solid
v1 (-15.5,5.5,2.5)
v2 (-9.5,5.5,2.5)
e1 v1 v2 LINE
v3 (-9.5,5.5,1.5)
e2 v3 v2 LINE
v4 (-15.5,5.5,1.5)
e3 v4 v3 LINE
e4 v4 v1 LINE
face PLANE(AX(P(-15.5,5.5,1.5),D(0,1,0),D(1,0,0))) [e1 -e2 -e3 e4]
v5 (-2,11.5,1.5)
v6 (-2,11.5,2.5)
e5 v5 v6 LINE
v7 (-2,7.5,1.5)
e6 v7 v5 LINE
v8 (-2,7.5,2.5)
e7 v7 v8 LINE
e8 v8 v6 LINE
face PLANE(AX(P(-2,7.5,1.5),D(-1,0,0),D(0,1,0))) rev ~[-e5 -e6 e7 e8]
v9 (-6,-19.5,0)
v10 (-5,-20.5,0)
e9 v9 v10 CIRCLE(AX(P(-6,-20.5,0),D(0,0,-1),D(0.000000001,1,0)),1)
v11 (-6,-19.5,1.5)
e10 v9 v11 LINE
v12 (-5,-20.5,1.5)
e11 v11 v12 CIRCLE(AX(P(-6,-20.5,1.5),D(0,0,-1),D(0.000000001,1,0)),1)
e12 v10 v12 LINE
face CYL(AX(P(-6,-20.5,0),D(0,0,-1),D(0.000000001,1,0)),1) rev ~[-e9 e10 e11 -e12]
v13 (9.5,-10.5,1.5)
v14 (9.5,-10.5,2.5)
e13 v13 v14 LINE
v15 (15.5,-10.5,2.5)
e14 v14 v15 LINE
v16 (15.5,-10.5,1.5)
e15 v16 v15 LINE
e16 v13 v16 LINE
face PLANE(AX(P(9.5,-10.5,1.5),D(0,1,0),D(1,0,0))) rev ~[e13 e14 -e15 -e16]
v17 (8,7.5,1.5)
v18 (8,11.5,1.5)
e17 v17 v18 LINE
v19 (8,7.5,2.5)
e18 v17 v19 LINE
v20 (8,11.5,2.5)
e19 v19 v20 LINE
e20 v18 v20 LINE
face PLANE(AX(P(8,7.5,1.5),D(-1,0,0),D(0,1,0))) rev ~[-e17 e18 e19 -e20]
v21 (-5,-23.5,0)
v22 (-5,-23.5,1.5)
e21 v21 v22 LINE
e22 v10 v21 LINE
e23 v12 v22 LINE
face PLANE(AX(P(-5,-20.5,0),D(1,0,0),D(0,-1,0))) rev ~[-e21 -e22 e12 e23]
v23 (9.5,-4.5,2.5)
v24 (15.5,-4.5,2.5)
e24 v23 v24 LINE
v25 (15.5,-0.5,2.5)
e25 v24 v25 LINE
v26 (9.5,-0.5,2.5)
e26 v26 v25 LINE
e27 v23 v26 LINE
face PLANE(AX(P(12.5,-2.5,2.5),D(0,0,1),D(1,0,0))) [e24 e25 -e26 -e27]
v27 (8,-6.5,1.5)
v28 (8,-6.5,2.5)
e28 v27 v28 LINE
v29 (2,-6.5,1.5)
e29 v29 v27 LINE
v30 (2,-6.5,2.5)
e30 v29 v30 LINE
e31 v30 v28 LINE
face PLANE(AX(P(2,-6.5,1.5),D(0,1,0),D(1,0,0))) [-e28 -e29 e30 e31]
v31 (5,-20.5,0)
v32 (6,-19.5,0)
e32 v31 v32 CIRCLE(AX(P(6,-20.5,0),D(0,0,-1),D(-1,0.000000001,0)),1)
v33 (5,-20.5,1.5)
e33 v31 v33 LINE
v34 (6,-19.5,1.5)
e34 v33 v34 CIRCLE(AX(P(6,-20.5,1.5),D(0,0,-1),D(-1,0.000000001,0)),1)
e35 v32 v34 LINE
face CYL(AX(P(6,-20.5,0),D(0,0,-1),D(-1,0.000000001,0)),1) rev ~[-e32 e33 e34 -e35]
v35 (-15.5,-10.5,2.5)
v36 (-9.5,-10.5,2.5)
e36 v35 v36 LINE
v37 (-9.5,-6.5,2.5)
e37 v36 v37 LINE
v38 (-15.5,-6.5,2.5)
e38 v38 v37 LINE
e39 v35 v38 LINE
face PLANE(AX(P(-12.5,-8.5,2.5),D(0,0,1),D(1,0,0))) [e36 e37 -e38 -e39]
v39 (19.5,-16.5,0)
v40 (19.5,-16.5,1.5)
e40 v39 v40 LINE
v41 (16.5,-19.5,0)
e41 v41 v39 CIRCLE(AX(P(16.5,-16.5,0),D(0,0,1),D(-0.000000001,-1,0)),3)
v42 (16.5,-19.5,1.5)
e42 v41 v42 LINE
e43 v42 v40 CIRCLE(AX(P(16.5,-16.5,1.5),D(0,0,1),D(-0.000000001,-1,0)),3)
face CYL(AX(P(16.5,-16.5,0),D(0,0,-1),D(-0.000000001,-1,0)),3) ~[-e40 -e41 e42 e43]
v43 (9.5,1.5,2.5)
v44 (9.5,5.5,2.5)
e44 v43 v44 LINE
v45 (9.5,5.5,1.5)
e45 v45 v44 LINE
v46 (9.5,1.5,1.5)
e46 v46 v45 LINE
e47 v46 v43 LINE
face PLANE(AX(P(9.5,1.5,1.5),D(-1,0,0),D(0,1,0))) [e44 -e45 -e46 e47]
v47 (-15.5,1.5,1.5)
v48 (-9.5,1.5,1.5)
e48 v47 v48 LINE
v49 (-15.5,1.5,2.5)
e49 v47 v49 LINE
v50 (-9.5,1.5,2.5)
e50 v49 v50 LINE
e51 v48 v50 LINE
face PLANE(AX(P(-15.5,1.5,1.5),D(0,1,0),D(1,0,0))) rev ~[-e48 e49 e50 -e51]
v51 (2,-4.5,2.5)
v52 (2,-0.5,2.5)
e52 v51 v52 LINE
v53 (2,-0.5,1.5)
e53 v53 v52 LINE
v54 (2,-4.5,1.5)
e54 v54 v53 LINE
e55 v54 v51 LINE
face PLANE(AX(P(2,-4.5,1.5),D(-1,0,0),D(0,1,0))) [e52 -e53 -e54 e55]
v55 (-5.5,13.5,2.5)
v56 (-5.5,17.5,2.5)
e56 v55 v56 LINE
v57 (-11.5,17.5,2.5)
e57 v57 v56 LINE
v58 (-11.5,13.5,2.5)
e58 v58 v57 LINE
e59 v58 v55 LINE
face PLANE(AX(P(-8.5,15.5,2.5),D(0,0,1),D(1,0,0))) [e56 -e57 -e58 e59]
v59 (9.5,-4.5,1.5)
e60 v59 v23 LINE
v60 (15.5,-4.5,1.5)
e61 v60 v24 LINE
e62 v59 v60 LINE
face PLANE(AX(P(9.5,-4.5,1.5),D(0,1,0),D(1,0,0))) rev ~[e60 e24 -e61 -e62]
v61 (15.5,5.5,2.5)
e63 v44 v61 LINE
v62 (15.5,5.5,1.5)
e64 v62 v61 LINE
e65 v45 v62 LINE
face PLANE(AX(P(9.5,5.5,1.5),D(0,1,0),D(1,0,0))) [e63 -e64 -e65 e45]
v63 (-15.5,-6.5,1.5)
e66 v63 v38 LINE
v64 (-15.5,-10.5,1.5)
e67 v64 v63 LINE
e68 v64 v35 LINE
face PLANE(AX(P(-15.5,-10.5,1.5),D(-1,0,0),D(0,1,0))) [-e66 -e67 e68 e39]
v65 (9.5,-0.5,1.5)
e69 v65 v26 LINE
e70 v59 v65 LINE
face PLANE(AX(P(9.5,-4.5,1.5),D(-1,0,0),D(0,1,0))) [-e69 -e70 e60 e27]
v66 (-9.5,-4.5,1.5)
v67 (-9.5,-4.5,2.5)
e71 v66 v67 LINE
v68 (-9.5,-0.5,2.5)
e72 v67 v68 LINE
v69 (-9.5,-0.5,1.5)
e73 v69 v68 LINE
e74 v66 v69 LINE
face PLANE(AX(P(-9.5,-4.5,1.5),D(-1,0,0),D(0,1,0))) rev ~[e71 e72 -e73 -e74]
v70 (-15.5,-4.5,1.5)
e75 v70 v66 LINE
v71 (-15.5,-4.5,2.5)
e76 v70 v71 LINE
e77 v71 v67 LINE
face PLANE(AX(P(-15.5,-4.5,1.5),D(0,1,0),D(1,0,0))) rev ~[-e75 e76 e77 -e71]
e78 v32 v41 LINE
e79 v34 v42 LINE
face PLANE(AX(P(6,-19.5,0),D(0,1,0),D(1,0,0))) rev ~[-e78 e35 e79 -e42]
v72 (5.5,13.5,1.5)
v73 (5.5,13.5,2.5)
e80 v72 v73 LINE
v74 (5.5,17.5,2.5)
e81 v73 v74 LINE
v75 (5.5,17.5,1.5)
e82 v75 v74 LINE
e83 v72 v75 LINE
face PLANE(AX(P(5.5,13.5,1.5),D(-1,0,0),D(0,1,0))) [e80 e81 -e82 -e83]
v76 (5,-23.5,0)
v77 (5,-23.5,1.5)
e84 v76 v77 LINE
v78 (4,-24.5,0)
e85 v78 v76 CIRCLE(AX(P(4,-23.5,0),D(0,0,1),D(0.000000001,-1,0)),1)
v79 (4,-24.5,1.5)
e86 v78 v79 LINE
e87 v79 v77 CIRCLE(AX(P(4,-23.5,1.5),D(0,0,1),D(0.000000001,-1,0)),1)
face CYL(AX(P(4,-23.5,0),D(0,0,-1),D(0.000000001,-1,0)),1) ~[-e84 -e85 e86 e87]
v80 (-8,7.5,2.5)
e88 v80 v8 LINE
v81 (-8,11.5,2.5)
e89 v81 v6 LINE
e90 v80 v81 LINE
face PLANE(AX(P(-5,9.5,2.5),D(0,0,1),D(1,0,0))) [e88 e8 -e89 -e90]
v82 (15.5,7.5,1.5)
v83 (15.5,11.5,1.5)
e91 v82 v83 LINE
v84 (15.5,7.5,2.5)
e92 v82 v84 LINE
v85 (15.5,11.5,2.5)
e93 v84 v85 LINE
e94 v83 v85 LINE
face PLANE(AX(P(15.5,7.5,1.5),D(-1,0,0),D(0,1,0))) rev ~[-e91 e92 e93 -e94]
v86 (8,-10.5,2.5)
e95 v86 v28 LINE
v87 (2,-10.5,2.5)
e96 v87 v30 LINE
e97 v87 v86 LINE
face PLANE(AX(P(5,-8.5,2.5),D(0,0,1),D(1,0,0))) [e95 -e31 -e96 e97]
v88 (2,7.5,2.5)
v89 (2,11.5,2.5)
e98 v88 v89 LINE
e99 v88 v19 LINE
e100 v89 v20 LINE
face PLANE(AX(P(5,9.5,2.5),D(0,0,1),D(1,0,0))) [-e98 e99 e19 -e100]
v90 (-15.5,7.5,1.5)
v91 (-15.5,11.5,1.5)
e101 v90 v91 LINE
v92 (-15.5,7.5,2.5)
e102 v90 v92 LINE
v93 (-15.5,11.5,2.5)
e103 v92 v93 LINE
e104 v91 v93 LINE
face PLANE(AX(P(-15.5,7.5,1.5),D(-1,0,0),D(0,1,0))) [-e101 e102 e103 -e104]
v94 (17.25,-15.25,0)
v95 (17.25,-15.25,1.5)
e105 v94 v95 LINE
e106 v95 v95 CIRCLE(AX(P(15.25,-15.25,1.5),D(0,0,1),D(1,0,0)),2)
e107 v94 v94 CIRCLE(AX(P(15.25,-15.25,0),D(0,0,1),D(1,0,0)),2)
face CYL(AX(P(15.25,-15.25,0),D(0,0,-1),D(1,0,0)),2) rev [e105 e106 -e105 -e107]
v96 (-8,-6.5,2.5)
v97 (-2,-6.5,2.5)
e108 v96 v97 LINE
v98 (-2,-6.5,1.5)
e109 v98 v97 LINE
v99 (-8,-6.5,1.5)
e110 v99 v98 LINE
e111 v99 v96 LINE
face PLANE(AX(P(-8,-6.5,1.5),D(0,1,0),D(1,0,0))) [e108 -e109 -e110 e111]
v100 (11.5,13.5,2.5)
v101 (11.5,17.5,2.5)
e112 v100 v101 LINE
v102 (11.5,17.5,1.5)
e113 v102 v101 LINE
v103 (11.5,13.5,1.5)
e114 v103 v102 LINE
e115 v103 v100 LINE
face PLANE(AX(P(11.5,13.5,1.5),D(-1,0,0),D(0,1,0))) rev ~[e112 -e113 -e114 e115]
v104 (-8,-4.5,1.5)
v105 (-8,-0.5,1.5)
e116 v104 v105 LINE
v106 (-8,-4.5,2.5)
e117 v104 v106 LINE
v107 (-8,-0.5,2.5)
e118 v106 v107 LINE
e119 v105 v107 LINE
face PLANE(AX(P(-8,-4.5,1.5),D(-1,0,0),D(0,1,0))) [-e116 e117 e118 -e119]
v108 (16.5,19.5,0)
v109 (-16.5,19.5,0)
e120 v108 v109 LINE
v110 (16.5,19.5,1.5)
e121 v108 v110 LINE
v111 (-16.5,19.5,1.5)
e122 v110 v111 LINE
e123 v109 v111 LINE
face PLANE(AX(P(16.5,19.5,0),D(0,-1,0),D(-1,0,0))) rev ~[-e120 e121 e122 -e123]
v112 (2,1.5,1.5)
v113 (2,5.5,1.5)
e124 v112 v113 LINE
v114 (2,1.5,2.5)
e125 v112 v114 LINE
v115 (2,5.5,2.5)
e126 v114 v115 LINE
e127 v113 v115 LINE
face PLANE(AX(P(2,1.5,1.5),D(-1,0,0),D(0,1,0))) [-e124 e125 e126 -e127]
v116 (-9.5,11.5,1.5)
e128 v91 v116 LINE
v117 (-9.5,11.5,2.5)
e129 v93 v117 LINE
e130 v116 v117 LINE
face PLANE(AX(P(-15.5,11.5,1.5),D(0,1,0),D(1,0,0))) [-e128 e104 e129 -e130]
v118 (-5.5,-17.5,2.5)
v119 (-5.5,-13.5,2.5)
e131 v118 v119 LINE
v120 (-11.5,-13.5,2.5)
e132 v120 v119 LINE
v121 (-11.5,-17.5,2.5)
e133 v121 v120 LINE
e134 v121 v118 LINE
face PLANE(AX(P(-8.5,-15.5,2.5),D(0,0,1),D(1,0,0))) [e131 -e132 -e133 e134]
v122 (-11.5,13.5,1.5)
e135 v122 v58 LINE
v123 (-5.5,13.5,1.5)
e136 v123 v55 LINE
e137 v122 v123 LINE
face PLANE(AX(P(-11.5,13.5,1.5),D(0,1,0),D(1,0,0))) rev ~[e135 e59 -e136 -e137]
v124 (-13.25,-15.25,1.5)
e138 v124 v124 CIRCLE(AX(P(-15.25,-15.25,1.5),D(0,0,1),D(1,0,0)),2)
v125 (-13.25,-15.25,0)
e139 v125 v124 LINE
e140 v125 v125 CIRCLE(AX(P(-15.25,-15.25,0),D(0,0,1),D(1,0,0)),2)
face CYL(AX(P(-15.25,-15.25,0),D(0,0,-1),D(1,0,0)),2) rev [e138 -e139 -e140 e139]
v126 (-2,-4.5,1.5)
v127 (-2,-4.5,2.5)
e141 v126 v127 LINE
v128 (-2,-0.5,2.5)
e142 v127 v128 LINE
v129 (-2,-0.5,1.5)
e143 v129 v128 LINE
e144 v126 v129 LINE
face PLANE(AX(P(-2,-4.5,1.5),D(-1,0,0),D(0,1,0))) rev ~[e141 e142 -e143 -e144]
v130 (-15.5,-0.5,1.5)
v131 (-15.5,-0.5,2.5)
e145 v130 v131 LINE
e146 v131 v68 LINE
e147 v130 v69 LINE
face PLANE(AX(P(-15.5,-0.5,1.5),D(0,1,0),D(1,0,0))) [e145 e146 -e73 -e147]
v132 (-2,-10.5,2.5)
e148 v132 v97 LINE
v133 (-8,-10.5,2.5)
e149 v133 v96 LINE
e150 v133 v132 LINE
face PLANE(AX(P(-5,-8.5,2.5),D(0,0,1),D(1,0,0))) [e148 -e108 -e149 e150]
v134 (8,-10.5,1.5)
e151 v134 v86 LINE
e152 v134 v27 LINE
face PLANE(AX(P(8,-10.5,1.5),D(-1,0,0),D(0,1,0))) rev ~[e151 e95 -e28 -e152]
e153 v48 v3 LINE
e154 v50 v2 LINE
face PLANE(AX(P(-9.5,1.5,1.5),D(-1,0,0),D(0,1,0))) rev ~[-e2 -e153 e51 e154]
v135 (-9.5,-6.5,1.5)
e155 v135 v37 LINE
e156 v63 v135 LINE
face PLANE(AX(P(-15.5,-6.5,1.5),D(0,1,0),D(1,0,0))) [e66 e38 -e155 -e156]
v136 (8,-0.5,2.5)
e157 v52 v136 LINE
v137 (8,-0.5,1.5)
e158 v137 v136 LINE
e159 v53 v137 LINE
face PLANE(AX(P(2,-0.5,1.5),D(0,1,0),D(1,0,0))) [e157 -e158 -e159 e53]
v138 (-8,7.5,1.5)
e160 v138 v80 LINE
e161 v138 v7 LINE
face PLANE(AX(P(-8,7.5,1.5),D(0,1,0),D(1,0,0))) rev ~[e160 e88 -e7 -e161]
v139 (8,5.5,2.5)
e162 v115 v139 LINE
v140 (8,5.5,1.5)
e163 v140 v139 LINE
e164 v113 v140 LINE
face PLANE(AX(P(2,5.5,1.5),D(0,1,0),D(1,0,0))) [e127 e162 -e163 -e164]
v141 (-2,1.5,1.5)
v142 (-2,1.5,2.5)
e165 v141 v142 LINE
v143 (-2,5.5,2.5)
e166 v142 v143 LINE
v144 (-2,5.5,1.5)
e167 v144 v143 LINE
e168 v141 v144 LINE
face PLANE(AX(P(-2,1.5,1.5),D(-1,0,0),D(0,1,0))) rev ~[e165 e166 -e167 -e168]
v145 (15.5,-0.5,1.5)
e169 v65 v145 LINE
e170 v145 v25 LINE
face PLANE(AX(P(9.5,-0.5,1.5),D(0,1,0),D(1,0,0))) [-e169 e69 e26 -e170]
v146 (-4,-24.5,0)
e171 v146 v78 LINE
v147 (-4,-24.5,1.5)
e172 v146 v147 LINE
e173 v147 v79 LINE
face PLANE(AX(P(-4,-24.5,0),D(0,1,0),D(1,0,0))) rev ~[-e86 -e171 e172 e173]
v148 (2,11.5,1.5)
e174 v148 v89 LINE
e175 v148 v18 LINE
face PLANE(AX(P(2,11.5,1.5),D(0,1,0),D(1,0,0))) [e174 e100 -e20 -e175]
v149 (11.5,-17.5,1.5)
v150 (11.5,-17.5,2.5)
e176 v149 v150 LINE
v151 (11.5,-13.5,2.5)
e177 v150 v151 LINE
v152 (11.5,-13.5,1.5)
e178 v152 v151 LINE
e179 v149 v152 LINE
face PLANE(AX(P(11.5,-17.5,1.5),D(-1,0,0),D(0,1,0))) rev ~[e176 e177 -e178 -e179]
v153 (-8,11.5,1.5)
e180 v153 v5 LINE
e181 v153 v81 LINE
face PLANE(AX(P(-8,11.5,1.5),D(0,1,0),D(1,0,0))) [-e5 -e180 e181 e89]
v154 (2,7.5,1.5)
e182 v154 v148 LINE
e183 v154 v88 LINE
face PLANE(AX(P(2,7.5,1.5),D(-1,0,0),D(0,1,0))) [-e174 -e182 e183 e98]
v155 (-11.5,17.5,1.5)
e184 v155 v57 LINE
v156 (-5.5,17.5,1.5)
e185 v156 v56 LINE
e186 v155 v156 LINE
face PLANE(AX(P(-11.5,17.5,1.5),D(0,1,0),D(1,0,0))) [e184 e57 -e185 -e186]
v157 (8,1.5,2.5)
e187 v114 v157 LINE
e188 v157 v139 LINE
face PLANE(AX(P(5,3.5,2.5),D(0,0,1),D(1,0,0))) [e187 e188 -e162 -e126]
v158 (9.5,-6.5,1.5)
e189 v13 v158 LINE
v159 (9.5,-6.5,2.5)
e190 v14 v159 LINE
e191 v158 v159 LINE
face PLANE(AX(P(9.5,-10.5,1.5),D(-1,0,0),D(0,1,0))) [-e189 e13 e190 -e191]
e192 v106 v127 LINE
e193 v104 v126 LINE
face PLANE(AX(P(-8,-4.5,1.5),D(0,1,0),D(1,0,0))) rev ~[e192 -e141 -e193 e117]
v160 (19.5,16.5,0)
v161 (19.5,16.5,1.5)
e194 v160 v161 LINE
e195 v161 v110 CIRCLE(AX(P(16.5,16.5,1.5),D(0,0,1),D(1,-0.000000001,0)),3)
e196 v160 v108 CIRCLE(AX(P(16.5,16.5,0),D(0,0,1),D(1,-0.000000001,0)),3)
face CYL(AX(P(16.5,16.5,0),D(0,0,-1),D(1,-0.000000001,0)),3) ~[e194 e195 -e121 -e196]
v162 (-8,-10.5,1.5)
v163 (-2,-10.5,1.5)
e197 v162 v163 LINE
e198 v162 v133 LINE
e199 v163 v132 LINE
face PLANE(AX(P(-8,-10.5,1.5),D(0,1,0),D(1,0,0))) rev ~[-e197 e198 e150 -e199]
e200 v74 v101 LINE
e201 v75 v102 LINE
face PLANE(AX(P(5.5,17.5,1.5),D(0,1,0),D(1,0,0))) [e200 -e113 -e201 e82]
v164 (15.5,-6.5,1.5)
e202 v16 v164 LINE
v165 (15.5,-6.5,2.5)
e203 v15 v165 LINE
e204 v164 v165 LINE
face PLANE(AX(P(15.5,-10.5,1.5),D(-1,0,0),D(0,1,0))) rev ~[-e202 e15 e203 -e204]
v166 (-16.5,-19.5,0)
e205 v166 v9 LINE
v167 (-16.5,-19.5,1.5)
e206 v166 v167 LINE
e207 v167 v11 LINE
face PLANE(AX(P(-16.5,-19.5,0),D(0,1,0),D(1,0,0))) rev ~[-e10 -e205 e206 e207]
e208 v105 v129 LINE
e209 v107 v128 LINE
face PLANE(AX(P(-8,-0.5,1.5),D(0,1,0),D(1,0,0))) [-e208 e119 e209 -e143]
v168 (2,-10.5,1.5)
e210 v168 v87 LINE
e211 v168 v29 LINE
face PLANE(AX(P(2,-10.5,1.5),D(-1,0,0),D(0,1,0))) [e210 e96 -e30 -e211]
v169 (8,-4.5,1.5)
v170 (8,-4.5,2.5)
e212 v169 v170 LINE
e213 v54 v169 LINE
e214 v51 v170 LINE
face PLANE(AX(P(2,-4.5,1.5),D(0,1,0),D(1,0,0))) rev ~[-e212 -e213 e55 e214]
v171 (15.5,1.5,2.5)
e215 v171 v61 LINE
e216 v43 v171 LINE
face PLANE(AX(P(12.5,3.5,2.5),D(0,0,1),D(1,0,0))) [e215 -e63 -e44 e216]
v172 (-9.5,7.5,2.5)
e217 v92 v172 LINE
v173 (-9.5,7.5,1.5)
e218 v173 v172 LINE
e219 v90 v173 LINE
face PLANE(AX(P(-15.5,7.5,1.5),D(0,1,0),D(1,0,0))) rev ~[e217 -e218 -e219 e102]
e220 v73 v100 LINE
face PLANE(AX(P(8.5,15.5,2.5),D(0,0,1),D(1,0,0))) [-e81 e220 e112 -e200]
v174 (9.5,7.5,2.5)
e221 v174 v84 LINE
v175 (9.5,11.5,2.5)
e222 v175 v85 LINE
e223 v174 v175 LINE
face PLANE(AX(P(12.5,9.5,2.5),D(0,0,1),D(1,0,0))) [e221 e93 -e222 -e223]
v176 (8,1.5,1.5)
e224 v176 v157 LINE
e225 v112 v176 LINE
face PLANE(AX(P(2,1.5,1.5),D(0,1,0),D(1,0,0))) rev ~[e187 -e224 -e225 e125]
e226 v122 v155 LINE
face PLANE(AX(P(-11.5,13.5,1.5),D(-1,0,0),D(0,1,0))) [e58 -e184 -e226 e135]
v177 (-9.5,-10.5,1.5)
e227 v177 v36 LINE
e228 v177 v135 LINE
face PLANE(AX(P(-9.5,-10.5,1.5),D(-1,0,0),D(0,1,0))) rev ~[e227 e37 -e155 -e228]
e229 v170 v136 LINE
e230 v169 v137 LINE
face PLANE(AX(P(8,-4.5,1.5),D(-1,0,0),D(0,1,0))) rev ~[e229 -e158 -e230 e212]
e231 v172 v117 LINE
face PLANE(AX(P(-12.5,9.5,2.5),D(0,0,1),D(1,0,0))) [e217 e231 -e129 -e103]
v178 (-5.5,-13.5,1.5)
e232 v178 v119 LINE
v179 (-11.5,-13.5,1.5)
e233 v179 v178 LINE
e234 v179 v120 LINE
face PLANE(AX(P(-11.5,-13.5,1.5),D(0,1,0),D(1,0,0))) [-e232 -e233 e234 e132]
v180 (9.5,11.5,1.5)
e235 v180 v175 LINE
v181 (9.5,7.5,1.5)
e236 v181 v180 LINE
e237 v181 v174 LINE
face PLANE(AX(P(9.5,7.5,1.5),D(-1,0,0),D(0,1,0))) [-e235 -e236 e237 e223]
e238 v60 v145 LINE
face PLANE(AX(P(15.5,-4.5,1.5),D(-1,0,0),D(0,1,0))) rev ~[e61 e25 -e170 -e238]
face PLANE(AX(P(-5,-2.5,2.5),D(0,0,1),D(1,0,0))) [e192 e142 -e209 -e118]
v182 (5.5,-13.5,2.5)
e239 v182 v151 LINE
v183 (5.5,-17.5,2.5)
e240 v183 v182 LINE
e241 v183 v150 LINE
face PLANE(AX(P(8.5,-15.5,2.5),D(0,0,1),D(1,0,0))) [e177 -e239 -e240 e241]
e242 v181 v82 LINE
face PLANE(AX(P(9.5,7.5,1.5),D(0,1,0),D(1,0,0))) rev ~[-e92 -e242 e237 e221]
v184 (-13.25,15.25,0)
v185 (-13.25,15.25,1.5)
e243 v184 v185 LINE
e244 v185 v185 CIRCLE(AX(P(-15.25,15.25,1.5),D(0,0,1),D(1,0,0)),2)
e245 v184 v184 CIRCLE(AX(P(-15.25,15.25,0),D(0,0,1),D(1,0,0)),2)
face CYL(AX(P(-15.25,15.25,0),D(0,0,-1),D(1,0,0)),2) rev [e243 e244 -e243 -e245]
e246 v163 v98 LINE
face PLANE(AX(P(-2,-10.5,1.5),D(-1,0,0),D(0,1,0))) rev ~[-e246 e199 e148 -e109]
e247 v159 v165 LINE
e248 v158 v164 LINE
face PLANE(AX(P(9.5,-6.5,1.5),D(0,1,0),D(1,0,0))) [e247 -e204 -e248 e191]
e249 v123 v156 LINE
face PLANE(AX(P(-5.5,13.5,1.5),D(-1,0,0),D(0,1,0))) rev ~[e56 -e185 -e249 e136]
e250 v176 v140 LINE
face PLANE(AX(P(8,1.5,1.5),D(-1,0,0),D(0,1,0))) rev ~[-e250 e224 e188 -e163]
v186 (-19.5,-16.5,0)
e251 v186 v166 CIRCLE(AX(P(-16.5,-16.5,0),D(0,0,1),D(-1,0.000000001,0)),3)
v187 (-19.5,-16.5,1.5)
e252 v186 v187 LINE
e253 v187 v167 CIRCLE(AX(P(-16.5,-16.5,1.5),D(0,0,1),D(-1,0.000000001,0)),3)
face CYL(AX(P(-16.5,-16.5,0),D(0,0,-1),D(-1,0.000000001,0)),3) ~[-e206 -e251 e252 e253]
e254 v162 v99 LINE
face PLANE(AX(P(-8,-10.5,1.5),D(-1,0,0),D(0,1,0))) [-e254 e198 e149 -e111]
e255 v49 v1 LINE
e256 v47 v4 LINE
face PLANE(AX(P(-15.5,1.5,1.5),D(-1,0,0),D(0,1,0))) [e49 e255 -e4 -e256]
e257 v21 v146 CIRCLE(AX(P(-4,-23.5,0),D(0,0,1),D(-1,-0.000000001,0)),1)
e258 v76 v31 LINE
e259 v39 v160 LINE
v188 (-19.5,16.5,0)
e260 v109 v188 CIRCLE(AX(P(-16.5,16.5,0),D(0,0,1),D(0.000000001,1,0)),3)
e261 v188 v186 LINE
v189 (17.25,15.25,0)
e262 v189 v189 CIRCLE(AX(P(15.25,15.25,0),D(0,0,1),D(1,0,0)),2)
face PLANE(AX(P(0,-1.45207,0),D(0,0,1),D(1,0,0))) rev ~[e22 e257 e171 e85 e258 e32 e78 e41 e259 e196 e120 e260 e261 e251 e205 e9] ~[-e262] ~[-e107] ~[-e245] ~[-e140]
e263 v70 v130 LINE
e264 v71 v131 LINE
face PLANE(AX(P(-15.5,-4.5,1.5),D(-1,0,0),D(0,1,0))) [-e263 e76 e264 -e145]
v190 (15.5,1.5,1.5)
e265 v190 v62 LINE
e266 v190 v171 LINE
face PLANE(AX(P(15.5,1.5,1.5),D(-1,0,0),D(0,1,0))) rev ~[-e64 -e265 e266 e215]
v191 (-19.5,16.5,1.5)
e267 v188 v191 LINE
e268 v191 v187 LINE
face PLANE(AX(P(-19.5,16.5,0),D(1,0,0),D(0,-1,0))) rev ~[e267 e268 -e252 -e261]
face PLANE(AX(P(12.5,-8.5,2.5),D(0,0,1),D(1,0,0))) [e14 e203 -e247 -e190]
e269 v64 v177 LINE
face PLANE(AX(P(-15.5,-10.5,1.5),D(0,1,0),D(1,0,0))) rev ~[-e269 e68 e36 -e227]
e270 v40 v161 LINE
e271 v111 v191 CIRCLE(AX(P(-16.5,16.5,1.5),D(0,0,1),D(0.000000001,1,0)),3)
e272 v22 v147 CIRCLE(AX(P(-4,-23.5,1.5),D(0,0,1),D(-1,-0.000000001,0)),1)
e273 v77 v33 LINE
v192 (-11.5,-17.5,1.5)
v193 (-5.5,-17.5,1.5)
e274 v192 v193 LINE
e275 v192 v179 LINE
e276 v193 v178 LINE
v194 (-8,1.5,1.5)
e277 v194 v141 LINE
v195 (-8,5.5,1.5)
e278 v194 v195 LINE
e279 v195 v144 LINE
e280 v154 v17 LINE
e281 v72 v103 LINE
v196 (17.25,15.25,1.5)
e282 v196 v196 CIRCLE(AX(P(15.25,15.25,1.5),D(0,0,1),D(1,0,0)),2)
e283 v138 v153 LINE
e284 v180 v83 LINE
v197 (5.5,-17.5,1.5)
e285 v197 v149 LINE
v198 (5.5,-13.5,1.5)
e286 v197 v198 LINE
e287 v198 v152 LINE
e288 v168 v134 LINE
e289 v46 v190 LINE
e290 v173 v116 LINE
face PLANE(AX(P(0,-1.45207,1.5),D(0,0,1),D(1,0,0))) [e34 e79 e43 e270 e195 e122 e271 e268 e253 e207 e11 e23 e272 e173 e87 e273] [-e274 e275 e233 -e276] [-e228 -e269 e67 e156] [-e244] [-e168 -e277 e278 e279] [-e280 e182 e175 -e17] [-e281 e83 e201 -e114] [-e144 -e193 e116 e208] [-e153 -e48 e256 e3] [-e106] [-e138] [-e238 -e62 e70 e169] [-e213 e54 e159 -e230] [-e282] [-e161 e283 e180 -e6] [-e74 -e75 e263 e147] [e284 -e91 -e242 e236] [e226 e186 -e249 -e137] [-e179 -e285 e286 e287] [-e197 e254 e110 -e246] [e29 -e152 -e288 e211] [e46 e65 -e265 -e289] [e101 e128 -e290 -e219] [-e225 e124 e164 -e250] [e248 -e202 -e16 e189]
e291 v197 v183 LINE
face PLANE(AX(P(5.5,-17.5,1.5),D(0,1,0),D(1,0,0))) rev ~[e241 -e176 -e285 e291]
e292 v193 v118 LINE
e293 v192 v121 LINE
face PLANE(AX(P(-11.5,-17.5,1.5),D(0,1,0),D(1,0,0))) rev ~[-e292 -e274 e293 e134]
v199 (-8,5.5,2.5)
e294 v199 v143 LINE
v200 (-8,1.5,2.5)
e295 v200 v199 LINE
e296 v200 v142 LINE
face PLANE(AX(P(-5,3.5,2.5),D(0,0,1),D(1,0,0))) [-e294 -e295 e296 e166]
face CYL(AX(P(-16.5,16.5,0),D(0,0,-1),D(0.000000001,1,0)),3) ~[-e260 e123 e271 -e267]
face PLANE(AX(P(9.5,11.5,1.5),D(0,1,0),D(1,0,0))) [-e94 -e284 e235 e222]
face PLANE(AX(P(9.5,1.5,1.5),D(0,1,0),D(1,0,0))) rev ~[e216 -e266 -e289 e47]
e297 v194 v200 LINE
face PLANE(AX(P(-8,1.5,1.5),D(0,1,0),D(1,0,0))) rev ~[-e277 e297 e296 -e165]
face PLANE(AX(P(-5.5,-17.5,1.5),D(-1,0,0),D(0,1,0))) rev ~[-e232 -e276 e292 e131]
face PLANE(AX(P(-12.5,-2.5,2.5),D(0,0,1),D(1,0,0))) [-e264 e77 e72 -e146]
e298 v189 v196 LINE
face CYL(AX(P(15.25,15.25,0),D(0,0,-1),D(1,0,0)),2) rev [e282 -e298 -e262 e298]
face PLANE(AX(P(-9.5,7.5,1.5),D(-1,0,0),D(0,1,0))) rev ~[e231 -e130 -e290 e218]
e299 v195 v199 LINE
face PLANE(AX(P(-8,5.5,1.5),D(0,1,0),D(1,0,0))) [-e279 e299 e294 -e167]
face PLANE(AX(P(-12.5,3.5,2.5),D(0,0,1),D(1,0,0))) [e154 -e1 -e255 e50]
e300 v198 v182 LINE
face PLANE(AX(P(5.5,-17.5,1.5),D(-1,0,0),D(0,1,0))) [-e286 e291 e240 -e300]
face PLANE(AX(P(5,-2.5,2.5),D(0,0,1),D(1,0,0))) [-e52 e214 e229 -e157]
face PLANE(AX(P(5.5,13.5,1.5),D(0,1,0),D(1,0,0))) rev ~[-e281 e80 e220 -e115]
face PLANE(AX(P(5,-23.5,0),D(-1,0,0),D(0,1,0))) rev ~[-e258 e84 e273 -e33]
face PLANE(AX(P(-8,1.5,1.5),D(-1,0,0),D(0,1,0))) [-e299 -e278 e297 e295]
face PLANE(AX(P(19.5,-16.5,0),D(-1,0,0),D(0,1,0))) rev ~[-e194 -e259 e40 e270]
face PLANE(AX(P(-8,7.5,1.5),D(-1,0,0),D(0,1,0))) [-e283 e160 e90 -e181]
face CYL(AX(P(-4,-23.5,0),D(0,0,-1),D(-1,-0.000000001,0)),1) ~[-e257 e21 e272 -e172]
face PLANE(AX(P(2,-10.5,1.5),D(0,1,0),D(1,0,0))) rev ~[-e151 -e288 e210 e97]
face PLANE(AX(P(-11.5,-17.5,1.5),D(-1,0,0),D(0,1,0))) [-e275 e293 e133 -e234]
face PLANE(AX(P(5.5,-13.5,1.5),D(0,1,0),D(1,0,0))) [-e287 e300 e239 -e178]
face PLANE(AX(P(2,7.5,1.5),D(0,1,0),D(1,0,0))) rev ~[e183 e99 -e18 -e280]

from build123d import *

# Parameters (mm, degrees)
SKETCH2_R           = 2
BOSS_EXTRUDE1_DEPTH = 1.5
SKETCH3_W           = 6
SKETCH3_H           = 4
BOSS_EXTRUDE2_DEPTH = 1


with BuildPart() as part:
    # Sketch2 → Boss-Extrude1 (new body)
    with BuildSketch(Plane.XY):
        with BuildLine():
            Line((-16.5, -19.5), (-6, -19.5))
            ThreePointArc((-6, -19.5), (-5.292893219, -19.792893219), (-5, -20.5))
            Line((-5, -20.5), (-5, -23.5))
            ThreePointArc((-5, -23.5), (-4.707106781, -24.207106781), (-4, -24.5))
            Line((-4, -24.5), (4, -24.5))
            ThreePointArc((4, -24.5), (4.707106781, -24.207106781), (5, -23.5))
            Line((5, -23.5), (5, -20.5))
            ThreePointArc((5, -20.5), (5.292893219, -19.792893219), (6, -19.5))
            Line((6, -19.5), (16.5, -19.5))
            ThreePointArc((16.5, -19.5), (18.621320344, -18.621320344), (19.5, -16.5))
            Line((19.5, -16.5), (19.5, 16.5))
            ThreePointArc((19.5, 16.5), (18.621320344, 18.621320344), (16.5, 19.5))
            Line((16.5, 19.5), (-16.5, 19.5))
            ThreePointArc((-16.5, 19.5), (-18.621320344, 18.621320344), (-19.5, 16.5))
            Line((-19.5, 16.5), (-19.5, -16.5))
            ThreePointArc((-19.5, -16.5), (-18.621320344, -18.621320344), (-16.5, -19.5))
        make_face()
        with Locations((15.25, 15.25)):
            Circle(SKETCH2_R, mode=Mode.SUBTRACT)
        with Locations((15.25, -15.25)):
            Circle(SKETCH2_R, mode=Mode.SUBTRACT)
        with Locations((-15.25, -15.25)):
            Circle(SKETCH2_R, mode=Mode.SUBTRACT)
        with Locations((-15.25, 15.25)):
            Circle(SKETCH2_R, mode=Mode.SUBTRACT)
    extrude(amount=BOSS_EXTRUDE1_DEPTH)

    # Sketch3 → Boss-Extrude2 (add)
    with BuildSketch(Plane.XY.offset(1.5)):
        with Locations((-5, 3.5)):
            Rectangle(SKETCH3_W, SKETCH3_H)
        with Locations((-5, 9.5)):
            Rectangle(SKETCH3_W, SKETCH3_H)
        with Locations((-5, -2.5)):
            Rectangle(SKETCH3_W, SKETCH3_H)
        with Locations((-5, -8.5)):
            Rectangle(SKETCH3_W, SKETCH3_H)
        with Locations((-12.5, 9.5)):
            Rectangle(SKETCH3_W, SKETCH3_H)
        with Locations((-12.5, 3.5)):
            Rectangle(SKETCH3_W, SKETCH3_H)
        with Locations((-12.5, -2.5)):
            Rectangle(SKETCH3_W, SKETCH3_H)
        with Locations((-12.5, -8.5)):
            Rectangle(SKETCH3_W, SKETCH3_H)
        with Locations((12.5, -8.5)):
            Rectangle(SKETCH3_W, SKETCH3_H)
        with Locations((12.5, -2.5)):
            Rectangle(SKETCH3_W, SKETCH3_H)
        with Locations((12.5, 3.5)):
            Rectangle(SKETCH3_W, SKETCH3_H)
        with Locations((12.5, 9.5)):
            Rectangle(SKETCH3_W, SKETCH3_H)
        with Locations((5, -8.5)):
            Rectangle(SKETCH3_W, SKETCH3_H)
        with Locations((5, -2.5)):
            Rectangle(SKETCH3_W, SKETCH3_H)
        with Locations((5, 3.5)):
            Rectangle(SKETCH3_W, SKETCH3_H)
        with Locations((5, 9.5)):
            Rectangle(SKETCH3_W, SKETCH3_H)
        with Locations((8.5, 15.5)):
            Rectangle(SKETCH3_W, SKETCH3_H)
        with Locations((-8.5, 15.5)):
            Rectangle(SKETCH3_W, SKETCH3_H)
        with Locations((8.5, -15.5)):
            Rectangle(SKETCH3_W, SKETCH3_H)
        with Locations((-8.5, -15.5)):
            Rectangle(SKETCH3_W, SKETCH3_H)
    extrude(amount=BOSS_EXTRUDE2_DEPTH)


solid = part.part
